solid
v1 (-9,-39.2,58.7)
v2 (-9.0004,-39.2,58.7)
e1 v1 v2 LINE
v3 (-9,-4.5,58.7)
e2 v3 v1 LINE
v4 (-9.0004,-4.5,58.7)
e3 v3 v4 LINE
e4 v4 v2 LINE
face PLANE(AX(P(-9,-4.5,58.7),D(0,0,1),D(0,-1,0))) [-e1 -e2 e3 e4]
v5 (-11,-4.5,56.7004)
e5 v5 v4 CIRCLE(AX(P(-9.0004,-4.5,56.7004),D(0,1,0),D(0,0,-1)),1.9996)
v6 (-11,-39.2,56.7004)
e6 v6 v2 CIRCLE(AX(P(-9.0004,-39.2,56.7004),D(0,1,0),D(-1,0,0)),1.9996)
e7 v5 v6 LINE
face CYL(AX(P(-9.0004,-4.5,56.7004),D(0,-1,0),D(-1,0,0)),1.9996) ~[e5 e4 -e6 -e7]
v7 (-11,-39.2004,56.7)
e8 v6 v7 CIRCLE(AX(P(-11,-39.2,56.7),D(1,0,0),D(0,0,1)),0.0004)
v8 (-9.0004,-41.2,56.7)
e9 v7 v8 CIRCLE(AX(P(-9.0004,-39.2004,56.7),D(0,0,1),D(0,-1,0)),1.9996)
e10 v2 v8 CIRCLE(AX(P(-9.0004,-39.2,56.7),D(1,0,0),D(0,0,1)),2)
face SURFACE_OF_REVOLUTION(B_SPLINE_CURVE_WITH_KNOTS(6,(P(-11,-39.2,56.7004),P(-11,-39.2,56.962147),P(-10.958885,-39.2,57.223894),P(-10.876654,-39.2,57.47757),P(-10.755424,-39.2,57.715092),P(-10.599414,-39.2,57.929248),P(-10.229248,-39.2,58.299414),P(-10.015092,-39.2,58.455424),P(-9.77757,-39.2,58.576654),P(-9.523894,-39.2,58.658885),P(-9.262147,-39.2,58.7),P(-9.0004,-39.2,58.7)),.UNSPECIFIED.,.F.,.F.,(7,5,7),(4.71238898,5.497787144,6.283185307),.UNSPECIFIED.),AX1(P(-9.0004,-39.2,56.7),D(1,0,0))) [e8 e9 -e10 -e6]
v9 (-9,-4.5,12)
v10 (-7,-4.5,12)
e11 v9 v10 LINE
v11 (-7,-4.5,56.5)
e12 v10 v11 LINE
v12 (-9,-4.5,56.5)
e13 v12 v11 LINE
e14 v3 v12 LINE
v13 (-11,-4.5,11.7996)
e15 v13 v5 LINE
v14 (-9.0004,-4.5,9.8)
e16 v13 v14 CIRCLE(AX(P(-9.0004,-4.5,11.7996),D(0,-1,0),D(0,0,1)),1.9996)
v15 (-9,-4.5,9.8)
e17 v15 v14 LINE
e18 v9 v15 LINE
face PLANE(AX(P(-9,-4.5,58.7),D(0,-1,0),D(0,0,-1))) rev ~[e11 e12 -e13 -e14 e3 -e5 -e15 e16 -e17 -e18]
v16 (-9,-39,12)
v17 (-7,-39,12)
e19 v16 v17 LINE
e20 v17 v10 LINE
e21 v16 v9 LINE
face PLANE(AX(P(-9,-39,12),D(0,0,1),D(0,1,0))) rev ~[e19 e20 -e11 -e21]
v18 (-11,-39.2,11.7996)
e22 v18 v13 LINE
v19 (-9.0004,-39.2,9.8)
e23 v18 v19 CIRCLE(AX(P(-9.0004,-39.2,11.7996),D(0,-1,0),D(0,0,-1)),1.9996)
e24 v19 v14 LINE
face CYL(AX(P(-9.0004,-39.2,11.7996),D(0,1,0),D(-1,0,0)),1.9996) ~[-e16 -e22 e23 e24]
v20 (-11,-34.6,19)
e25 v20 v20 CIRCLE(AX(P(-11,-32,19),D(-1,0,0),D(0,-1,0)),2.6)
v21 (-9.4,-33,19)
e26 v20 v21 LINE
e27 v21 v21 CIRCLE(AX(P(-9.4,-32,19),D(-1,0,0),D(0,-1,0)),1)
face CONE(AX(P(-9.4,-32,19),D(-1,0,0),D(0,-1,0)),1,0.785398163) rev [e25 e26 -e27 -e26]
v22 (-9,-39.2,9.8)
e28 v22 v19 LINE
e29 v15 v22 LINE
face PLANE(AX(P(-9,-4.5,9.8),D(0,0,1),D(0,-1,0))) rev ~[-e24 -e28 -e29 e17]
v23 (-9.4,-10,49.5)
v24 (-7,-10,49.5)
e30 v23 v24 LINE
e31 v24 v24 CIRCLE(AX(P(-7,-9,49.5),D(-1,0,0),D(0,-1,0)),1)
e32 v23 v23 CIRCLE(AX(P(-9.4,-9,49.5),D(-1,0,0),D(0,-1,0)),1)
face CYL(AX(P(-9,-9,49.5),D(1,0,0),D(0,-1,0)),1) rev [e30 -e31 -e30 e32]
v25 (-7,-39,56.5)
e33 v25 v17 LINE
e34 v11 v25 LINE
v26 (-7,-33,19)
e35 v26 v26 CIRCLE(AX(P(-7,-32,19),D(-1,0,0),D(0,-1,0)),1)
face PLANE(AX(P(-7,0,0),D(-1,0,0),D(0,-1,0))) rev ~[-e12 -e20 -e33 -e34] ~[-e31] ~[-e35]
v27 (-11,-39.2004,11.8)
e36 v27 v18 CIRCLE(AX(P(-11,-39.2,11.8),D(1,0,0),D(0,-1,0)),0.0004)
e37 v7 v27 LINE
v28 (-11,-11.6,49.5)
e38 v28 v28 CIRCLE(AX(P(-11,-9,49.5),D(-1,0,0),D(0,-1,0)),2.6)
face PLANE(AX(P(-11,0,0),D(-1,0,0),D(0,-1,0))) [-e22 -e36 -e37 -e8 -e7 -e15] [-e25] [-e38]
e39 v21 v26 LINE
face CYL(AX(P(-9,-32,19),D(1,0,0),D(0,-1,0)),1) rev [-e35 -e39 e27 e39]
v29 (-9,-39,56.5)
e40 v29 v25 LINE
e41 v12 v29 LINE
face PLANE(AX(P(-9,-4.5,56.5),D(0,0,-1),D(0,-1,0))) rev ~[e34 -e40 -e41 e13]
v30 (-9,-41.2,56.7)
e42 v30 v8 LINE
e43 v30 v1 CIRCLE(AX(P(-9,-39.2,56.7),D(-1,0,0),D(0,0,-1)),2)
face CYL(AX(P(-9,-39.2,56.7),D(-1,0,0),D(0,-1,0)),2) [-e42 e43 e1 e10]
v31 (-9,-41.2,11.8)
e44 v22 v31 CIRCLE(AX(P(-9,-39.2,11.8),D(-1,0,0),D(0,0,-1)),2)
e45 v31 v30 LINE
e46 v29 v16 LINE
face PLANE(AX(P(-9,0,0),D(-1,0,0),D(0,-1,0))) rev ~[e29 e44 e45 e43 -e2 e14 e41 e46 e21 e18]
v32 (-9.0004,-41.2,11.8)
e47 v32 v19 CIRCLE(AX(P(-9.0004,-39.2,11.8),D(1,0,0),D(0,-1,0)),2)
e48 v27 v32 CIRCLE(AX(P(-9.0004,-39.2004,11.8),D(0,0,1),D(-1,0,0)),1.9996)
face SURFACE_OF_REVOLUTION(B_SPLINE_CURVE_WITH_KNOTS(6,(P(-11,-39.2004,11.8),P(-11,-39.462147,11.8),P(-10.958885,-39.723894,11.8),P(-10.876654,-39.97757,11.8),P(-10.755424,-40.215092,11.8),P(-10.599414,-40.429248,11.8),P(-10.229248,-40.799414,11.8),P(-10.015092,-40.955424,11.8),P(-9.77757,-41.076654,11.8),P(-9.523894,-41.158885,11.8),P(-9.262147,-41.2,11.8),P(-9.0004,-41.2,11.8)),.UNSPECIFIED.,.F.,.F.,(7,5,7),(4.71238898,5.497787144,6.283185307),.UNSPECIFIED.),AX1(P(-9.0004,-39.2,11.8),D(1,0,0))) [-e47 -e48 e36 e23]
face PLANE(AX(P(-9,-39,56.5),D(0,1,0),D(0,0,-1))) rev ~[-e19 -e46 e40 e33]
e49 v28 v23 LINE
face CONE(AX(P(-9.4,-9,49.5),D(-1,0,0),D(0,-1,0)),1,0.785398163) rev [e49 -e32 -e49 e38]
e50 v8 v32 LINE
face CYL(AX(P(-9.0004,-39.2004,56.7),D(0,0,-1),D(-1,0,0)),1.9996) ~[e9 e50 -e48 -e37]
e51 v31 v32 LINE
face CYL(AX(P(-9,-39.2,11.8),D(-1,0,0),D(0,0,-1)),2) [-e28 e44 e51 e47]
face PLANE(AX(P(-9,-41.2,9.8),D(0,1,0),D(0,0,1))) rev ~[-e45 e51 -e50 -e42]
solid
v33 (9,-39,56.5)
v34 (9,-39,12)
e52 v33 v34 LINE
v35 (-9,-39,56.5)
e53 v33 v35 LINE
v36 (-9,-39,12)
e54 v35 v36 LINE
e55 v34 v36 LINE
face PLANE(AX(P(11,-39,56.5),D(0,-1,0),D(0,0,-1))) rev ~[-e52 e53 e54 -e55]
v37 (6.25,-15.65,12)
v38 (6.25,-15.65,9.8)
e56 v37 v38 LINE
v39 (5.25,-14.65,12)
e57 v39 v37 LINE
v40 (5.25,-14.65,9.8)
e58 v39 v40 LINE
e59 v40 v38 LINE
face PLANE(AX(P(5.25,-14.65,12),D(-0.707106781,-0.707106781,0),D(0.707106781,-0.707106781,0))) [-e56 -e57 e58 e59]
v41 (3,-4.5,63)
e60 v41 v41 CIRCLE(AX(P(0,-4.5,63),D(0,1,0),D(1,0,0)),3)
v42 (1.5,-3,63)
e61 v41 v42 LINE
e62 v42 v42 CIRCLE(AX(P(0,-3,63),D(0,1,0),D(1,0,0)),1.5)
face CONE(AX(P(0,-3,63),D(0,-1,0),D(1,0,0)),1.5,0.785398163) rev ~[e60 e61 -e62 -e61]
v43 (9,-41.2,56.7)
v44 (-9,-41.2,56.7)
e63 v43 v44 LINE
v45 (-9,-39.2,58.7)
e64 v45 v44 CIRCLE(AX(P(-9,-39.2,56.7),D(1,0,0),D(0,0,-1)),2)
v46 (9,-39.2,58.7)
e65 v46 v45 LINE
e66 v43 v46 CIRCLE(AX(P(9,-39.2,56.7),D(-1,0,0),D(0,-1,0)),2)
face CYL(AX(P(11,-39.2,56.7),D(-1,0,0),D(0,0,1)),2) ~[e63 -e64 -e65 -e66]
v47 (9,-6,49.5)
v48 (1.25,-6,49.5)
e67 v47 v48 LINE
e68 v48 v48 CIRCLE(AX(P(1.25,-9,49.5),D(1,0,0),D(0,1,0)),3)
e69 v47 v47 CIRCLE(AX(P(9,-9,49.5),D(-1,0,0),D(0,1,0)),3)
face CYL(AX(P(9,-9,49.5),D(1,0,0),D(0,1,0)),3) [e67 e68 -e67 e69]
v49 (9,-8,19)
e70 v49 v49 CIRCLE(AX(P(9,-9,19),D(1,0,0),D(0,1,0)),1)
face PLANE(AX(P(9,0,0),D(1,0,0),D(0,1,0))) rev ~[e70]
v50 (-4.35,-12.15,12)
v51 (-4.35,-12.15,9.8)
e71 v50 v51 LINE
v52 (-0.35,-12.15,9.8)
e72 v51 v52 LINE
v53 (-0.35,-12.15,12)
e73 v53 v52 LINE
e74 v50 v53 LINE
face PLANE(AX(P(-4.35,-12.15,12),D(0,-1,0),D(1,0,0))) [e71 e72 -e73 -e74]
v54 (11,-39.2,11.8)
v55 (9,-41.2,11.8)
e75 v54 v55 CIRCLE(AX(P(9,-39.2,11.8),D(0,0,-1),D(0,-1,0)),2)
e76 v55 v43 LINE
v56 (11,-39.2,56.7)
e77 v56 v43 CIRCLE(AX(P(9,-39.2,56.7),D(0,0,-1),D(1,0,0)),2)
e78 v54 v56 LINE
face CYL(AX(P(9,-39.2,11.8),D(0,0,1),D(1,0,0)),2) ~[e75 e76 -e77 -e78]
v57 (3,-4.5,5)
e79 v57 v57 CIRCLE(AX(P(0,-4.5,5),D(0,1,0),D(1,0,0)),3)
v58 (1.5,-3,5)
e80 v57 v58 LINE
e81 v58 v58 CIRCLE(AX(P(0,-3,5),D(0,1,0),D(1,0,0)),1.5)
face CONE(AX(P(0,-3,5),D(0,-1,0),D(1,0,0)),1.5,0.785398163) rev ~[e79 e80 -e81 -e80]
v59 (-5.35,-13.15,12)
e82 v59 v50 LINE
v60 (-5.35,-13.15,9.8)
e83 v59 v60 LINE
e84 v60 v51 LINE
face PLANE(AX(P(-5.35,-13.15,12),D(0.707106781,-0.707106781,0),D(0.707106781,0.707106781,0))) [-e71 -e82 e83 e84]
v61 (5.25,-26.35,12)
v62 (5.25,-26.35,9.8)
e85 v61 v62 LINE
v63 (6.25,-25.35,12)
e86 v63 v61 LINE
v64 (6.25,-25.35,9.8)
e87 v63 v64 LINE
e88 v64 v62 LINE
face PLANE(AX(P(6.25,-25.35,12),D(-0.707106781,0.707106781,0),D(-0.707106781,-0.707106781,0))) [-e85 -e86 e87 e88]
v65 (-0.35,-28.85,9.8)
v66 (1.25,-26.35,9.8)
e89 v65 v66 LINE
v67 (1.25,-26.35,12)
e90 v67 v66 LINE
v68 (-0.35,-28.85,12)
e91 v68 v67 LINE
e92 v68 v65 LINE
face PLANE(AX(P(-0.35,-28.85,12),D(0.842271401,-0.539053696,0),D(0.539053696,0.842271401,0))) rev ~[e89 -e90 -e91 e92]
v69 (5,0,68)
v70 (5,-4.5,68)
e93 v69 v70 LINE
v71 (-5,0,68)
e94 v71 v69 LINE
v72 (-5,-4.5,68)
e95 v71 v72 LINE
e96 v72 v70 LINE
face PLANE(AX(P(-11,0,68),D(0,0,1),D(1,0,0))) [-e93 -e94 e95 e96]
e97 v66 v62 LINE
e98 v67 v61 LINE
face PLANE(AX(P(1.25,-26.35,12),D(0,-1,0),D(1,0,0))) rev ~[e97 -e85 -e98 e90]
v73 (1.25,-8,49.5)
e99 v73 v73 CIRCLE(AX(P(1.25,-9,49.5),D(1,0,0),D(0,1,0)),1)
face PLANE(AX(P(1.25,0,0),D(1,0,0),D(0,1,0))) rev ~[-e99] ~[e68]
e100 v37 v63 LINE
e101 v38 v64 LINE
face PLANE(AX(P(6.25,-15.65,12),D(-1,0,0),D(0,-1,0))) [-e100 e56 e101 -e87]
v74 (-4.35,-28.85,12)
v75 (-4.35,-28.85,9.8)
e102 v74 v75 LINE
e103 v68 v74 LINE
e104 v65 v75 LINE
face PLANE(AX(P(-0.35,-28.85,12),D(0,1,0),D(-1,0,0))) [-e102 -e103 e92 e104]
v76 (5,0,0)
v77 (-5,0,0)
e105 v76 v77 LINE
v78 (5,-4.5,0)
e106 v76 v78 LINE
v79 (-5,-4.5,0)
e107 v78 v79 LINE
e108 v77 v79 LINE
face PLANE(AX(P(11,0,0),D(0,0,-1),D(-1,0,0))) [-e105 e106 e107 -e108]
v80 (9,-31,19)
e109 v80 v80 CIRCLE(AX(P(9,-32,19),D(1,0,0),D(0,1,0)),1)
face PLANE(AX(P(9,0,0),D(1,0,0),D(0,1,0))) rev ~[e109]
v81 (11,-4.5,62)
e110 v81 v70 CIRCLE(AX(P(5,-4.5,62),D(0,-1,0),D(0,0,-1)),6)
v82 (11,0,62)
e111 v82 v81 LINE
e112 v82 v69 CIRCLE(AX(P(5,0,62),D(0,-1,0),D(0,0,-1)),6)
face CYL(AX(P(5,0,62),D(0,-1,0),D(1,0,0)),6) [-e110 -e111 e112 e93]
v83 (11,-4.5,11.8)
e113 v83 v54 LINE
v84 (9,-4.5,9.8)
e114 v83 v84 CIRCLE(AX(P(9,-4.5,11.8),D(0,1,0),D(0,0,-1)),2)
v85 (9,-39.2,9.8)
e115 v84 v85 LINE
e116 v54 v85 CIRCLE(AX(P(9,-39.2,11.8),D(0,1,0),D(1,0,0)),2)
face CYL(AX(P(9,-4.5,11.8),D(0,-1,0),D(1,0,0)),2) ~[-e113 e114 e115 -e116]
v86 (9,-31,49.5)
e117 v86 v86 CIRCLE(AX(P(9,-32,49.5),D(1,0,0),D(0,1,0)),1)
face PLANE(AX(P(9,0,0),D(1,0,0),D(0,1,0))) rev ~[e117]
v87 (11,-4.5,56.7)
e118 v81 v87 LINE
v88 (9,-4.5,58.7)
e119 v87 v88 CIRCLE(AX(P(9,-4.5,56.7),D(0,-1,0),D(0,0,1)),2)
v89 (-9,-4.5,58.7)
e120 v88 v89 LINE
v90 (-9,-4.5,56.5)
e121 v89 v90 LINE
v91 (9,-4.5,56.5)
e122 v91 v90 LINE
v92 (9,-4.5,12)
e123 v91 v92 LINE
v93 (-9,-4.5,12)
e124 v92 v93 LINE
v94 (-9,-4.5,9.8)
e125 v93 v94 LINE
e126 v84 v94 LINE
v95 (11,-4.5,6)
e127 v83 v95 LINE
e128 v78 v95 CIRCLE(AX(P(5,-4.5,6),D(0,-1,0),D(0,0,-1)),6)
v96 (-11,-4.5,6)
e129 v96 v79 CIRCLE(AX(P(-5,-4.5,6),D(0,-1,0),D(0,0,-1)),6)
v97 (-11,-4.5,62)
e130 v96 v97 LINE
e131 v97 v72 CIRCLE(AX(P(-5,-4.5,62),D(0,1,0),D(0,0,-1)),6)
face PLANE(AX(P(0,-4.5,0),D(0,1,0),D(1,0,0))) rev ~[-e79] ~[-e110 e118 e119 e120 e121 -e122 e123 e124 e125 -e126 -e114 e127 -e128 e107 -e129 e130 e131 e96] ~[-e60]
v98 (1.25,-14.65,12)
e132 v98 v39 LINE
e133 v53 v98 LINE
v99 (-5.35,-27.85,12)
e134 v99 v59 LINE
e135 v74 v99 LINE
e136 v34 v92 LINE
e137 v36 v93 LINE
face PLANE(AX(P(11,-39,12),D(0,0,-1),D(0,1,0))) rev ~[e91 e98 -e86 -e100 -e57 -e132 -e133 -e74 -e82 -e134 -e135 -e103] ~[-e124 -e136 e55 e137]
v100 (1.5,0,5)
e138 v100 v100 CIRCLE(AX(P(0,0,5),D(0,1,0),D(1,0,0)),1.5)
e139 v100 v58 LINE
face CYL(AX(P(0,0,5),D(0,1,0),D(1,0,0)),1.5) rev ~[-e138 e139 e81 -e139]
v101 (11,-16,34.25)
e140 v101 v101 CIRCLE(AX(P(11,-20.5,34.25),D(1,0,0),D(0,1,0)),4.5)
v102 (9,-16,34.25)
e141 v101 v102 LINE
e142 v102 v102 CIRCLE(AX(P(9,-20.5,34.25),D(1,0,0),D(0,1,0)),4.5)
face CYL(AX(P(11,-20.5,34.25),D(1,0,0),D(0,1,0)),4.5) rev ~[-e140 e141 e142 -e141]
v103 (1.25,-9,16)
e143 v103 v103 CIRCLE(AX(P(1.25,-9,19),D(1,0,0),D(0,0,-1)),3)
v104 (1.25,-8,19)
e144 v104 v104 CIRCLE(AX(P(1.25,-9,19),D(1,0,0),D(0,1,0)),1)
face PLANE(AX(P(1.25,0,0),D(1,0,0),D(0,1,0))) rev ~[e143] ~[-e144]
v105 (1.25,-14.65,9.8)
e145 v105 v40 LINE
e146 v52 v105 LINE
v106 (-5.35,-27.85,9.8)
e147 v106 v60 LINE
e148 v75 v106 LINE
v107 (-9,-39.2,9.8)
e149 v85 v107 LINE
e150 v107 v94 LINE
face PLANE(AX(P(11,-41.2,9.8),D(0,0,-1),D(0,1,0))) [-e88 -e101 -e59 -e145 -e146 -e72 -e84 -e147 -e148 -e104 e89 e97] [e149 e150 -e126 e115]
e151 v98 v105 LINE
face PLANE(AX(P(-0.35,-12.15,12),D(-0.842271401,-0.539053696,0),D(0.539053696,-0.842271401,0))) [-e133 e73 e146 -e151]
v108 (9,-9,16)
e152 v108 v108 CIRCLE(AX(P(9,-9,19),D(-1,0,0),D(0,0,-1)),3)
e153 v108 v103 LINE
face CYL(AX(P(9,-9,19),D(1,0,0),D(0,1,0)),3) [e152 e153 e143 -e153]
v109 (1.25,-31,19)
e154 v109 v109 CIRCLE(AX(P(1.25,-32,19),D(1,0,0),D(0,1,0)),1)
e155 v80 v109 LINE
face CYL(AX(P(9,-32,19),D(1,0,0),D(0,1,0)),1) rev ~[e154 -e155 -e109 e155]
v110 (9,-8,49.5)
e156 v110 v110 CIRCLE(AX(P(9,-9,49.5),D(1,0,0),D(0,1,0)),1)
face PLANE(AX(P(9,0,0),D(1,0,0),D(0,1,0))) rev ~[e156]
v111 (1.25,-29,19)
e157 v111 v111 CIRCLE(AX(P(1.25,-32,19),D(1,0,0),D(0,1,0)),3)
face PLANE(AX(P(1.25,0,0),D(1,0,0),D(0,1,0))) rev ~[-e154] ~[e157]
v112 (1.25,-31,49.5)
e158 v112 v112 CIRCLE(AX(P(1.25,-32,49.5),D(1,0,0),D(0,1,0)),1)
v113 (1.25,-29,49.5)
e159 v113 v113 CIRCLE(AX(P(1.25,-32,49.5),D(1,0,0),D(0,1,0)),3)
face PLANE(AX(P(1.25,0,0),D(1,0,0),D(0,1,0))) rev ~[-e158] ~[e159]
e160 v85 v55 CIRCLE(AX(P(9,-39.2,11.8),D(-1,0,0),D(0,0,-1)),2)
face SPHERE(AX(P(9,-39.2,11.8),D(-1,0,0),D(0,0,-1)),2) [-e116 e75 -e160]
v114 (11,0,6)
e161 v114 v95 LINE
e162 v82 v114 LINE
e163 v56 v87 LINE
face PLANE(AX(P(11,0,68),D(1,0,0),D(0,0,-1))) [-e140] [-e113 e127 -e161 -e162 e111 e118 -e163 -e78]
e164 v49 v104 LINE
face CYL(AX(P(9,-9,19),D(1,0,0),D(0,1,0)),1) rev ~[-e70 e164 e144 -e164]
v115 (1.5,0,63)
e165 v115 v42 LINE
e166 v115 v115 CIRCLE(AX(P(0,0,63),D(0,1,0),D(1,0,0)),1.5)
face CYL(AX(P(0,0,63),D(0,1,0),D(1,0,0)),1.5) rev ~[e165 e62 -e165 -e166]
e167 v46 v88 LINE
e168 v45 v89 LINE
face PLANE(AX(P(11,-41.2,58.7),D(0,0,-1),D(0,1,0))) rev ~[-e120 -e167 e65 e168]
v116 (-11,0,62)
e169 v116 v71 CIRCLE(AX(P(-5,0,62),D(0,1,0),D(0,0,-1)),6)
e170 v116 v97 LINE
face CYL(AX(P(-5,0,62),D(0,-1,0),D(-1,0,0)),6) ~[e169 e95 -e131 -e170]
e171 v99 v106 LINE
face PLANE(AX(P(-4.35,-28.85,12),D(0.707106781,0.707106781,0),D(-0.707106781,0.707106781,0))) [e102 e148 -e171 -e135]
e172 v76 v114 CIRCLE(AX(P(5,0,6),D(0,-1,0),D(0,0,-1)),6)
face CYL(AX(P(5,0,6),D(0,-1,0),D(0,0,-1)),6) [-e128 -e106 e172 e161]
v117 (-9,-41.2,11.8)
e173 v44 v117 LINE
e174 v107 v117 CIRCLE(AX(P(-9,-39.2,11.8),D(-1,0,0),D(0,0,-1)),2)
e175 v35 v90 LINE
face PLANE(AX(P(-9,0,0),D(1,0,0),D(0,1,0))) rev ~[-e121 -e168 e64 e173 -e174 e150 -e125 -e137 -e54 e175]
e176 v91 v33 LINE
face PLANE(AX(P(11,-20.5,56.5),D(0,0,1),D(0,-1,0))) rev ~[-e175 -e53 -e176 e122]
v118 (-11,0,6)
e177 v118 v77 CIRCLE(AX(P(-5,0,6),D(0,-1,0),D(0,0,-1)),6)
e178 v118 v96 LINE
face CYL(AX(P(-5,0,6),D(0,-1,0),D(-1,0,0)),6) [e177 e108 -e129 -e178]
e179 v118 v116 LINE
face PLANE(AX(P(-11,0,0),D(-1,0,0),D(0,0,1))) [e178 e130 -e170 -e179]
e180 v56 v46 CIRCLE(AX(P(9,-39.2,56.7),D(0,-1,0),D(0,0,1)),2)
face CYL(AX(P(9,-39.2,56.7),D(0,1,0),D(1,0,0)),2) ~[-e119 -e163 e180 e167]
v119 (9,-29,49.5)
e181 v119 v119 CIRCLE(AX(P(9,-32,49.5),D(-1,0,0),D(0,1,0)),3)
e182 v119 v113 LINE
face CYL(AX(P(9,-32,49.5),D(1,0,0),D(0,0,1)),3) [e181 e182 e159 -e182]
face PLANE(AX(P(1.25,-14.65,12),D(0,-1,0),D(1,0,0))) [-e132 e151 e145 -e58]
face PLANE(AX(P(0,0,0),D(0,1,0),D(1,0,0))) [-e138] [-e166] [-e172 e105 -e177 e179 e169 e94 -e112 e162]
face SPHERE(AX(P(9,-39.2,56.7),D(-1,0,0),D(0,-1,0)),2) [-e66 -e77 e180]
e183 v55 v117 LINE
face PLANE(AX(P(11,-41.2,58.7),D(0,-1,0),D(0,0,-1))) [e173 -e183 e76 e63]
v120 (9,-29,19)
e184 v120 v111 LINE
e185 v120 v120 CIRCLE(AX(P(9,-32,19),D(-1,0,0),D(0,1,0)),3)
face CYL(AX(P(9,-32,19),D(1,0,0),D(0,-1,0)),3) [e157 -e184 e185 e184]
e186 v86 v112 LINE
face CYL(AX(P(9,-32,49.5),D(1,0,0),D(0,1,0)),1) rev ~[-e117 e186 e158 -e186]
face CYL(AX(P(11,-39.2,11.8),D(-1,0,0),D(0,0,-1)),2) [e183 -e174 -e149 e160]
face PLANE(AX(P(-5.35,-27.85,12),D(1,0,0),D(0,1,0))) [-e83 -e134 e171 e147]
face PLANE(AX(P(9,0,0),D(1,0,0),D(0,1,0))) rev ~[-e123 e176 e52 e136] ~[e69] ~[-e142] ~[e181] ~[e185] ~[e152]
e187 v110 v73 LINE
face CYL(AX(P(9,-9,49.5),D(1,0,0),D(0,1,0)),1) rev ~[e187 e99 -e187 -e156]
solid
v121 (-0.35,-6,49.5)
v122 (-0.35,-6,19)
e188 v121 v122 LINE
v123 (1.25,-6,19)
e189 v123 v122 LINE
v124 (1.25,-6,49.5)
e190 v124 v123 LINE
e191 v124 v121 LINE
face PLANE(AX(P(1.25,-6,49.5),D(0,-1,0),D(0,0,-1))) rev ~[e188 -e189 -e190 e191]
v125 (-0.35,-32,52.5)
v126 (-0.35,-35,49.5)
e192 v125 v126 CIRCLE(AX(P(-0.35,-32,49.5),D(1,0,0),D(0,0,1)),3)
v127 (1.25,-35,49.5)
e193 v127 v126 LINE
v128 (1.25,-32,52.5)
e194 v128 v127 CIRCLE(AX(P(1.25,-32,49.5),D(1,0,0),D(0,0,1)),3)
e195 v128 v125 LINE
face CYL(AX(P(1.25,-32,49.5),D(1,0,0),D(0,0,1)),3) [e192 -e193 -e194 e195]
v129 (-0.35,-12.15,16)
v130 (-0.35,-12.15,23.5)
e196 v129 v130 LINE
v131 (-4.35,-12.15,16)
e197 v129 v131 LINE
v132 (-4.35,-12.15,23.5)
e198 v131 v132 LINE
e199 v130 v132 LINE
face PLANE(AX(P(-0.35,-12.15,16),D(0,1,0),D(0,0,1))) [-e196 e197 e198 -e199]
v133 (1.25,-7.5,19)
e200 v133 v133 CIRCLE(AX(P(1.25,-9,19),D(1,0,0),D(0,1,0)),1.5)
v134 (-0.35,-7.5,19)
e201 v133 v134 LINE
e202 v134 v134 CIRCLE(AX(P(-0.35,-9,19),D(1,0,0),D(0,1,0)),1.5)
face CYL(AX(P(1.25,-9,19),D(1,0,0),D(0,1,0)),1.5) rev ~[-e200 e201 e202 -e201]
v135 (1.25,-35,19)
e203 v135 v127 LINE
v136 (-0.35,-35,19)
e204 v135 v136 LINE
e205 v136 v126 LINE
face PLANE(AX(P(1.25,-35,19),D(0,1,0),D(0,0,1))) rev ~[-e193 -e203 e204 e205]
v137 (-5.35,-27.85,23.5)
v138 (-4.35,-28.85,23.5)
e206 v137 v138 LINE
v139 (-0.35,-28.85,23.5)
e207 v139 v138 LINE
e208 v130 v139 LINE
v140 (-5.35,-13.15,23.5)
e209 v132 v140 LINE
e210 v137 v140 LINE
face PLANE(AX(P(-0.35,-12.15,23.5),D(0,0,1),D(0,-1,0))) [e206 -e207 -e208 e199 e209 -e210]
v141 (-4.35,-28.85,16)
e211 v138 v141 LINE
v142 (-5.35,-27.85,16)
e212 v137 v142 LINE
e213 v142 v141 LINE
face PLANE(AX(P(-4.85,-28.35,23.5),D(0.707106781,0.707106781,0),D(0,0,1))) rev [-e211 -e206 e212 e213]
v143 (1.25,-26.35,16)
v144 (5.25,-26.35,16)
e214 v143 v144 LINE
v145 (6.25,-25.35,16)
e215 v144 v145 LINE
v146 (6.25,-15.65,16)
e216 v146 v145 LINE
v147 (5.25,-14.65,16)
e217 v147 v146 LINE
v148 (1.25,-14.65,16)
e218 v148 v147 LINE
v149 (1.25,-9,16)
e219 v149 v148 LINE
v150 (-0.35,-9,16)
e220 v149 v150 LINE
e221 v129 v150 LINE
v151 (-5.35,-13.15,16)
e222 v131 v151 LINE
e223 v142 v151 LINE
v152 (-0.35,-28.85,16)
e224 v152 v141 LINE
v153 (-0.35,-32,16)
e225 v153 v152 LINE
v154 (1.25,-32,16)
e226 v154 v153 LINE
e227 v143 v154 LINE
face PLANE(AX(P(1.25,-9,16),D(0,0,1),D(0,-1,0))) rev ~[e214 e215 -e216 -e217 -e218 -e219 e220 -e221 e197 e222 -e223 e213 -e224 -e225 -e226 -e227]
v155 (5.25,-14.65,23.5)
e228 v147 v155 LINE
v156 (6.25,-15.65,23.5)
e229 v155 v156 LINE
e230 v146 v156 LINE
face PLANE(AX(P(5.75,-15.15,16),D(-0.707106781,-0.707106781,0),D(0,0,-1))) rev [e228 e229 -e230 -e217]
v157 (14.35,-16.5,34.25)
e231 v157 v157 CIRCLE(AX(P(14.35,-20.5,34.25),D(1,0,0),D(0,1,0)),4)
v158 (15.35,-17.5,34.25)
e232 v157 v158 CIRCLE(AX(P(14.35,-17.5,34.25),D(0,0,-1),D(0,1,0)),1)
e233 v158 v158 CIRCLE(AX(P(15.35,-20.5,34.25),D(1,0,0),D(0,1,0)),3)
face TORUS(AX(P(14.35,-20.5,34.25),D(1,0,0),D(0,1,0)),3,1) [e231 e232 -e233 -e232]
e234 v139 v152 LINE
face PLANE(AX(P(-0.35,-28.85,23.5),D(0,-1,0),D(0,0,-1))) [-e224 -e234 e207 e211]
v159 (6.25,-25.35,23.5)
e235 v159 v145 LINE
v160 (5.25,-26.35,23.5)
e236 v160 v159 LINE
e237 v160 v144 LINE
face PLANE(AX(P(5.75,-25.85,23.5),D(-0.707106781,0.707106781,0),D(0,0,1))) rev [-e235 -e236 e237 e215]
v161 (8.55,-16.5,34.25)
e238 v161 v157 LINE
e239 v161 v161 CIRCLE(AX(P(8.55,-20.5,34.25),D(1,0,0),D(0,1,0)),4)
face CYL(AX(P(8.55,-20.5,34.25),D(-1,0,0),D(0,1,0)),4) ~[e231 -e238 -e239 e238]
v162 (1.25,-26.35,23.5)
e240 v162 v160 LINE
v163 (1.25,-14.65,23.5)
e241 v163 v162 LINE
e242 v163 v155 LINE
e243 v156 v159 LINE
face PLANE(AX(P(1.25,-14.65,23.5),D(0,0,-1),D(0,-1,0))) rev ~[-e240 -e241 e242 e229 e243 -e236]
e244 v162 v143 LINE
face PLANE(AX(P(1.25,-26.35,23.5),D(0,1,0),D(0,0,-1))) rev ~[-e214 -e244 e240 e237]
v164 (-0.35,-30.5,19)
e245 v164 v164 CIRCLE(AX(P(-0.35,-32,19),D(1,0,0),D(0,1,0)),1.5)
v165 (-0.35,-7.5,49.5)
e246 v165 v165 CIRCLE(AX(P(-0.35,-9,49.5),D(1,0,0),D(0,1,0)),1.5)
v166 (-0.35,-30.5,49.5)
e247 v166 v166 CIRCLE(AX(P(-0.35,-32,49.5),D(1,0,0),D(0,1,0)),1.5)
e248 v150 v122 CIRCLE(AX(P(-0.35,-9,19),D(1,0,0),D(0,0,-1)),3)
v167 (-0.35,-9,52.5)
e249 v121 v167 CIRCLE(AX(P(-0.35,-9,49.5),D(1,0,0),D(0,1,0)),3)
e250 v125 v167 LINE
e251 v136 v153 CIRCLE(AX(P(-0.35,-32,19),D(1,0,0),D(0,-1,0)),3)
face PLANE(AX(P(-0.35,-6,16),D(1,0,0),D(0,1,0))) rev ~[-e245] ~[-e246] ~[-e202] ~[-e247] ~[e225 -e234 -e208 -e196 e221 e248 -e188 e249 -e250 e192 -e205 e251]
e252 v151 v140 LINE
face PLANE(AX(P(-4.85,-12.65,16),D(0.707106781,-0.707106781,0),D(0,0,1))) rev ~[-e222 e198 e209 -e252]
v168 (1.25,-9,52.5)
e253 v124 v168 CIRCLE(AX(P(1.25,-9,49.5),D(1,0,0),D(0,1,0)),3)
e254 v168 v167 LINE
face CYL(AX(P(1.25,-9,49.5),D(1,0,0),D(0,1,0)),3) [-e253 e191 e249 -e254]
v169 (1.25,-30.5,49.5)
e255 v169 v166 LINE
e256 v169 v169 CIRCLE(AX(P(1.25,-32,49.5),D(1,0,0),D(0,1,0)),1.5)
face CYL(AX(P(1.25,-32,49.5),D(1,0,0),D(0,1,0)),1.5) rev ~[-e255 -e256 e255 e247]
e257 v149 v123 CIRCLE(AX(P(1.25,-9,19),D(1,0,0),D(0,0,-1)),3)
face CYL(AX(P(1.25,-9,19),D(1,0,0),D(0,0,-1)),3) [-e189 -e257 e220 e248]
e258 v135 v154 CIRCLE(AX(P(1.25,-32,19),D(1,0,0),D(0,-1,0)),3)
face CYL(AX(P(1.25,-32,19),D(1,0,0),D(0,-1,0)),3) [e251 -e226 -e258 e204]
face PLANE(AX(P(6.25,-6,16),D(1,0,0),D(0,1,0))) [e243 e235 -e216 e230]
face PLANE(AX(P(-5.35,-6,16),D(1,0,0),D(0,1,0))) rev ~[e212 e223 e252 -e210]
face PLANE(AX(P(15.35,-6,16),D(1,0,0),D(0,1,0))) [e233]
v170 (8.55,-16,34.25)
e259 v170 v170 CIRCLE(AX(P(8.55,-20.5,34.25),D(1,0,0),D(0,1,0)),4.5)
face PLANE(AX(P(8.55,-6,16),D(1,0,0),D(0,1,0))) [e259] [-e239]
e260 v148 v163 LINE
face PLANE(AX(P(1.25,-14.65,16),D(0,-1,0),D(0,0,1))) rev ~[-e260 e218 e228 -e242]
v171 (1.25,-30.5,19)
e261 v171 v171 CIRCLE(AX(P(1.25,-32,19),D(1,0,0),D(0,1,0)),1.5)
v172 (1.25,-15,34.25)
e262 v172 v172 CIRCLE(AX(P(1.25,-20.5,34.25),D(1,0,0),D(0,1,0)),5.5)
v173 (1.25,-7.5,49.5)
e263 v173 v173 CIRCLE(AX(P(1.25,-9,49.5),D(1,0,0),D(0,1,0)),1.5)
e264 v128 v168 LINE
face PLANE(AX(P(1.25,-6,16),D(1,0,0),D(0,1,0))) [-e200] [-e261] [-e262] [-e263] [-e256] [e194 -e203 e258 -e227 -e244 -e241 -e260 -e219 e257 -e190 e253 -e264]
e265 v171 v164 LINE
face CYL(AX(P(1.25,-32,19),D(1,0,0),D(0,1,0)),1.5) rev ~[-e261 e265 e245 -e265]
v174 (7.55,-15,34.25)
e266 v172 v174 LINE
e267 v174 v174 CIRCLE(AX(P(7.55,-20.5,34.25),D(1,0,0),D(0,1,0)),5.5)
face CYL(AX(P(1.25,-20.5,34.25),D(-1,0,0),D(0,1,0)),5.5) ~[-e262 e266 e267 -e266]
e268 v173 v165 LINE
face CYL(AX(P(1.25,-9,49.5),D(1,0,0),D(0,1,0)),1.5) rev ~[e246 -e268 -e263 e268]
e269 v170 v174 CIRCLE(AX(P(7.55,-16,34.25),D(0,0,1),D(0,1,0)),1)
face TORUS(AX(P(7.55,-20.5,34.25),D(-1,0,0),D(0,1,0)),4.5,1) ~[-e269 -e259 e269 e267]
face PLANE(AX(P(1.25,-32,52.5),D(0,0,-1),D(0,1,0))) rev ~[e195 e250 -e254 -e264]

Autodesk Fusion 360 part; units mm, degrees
sketch "Sketch2" plane through (0, 0, 0) normal (1, 0, 0) x (0, 1, 0) in component "Switch PCB"
  line L0 (-3, 0) -> (-26, 0)
  line L1 (-29, 3) -> (-29, 33.5)
  line L2 (-26, 36.5) -> (-3, 36.5)
  line L3 (0, 33.5) -> (0, 3)
  line L4 (-14.5, 0) -> (-14.5, 3) construction
  line L5 (0, 18.25) -> (-3, 18.25) construction
  line L6 (-3, 33.5) -> (-26, 33.5) construction
  line L7 (-26, 33.5) -> (-26, 3) construction
  line L8 (-26, 3) -> (-3, 3) construction
  line L9 (-3, 3) -> (-3, 33.5) construction
  circle A0 centre (-26, 33.5) radius 1.5
  circle A1 centre (-3, 33.5) radius 1.5
  circle A2 centre (-26, 3) radius 1.5
  circle A3 centre (-3, 3) radius 1.5
  arc A4 (-26, 36.5) -> (-29, 33.5) centre (-26, 33.5) ccw
  arc A5 (0, 33.5) -> (-3, 36.5) centre (-3, 33.5) ccw
  arc A6 (-29, 3) -> (-26, 0) centre (-26, 3) ccw
  arc A7 (-3, 0) -> (0, 3) centre (-3, 3) ccw
  line L10 (-8.65, 7.5) -> (-20.35, 7.5)
  line L11 (-20.35, 7.5) -> (-20.35, 0)
  line L12 (-20.35, 0) -> (-8.65, 0)
  line L13 (-8.65, 0) -> (-8.65, 7.5)
  line L14 (-14.5, 0) -> (-14.5, 18.25) construction
  line L15 (-14.5, 18.25) -> (0, 18.25) construction
  circle A8 centre (-14.5, 18.25) radius 4
  circle A9 centre (-14.5, 18.25) radius 5.5
  line L16 (-6.15, 7.5) -> (-22.85, 7.5)
  line L17 (-22.85, 7.5) -> (-22.85, 0)
  line L18 (-22.85, 0) -> (-6.15, 0)
  line L19 (-6.15, 0) -> (-6.15, 7.5)
  point P0 (-29, 0)
  point P1 (0, 36.5)
  point P2 (-14.5, 3)
  point P3 (-3, 18.25)
  point P4 (-14.5, 0)
  point P5 (-14.5, -4)
  point P6 (-14.5, 0)
  dimension "d11" = 29
  dimension "d12" = 36.5
  dimension "d13" = 3
  dimension "d14" = 3
  dimension "d15" = 3
  dimension "d16" = 3
  dimension "d17" = 3
  dimension "d18" = 3
  dimension "d19" = 3
  dimension "d20" = 3
  dimension "d21" = 3
  dimension "d22" = 3
  dimension "d23" = 23
  dimension "d24" = 30.5
  dimension "d25" = 11.7
  dimension "d26" = 7.5
  dimension "d27" = 4
  dimension "d164" = 8
  dimension "d165" = 11
  dimension "d175" = 16.7
  dimension "d176" = 7.5
extrude "Extrude1" add sketch "Sketch2" against normal blind 1.6 contours L0 L1 L2 L3 A4 A5 A6 A7 L10 L16 L17 L19 | L0 L13 L16 L18 L19 | L0 L10 L11 L12 L13 L16 L18 | L0 L11 L16 L17 L18 | A8 | A9 makes body 1 in component "Switch PCB"
extrude "Extrude2" add sketch "Sketch2" along normal blind 5 contours L0 L10 L11 L12 L13 L16 L18 bodies 1 in component "Switch PCB"
extrude "Extrude3" add sketch "Sketch2" against normal blind 5 from surface at -1.6 contours L0 L13 L16 L18 L19 | L0 L10 L11 L12 L13 L16 L18 | L0 L11 L16 L17 L18 bodies 1 in component "Switch PCB"
sketch "Sketch1" plane through (0, 0, 0) normal (0, 1, 0) x (1, 0, 0) in component "PIR Holder"
  line L0 (0, 0) -> (0, -5) construction
  circle A0 centre (0, -5) radius 1.5
  line L1 (-11, -68) -> (11, -68)
  line L2 (11, -68) -> (11, 0)
  line L3 (11, 0) -> (-11, 0)
  line L4 (-11, 0) -> (-11, -68)
  line L5 (0, -68) -> (0, -63) construction
  circle A1 centre (0, -63) radius 1.5
  dimension "d1" = 5
  dimension "d2" = 3
  dimension "d3" = 22
  dimension "d4" = 68
  dimension "d5" = 5
  dimension "d6" = 3
extrude "Extrude1'" add sketch "Sketch1" against normal blind 4.5 separate body makes body 2 in component "PIR Holder"
fillet "Fillet1" radius 6 4 edges at (11, -2.25, 68) (-11, -2.25, 68) (11, -2.25, 0) (-11, -2.25, 0) on bodies 2 in component "PIR Holder"
sketch "Sketch2 (2)" plane through (-11, 0, 0) normal (-1, 0, 0) x (0, -1, 0) in component "PIR Holder"
  line L0 (0, 6) -> (4.5, 6)
  line L1 (4.5, 6) -> (4.5, 62)
  line L2 (4.5, 62) -> (0, 62)
  line L3 (0, 62) -> (0, 6)
  line L4 (4.5, 62) -> (4.5, 6)
  line L5 (0, 0) -> (0, 15) construction
  line L6 (0, 15) -> (9, 15) construction
  dimension "d64" = 15
  dimension "d65" = 9
sketch "Sketch3" plane through (0, 0, 0) normal (1, 0, 0) x (0, 1, 0) in component "PIR Holder"
  line L0 (-32, 52.5) -> (-9, 52.5)
sketch "Sketch4" plane through (11, 0, 0) normal (1, 0, 0) x (0, 1, 0) in component "PIR Holder"
  line L0 (-4.5, 6) -> (0, 6)
  line L1 (0, 6) -> (0, 62)
  line L2 (0, 62) -> (-4.5, 62)
  line L3 (-4.5, 62) -> (-4.5, 6)
  line L4 (-26.35, 16) -> (-26.35, 23.5)
  line L5 (-26.35, 23.5) -> (-14.65, 23.5)
  line L6 (-14.65, 23.5) -> (-14.65, 16)
  line L7 (-14.65, 16) -> (-9, 16)
  arc A0 (-9, 16) -> (-6, 19) centre (-9, 19) ccw
  line L8 (-6, 19) -> (-6, 49.5)
  arc A1 (-6, 49.5) -> (-9, 52.5) centre (-9, 49.5) ccw
  line L9 (-9, 52.5) -> (-32, 52.5)
  arc A2 (-32, 52.5) -> (-35, 49.5) centre (-32, 49.5) ccw
  line L10 (-35, 49.5) -> (-35, 19)
  arc A3 (-35, 19) -> (-32, 16) centre (-32, 19) ccw
  line L11 (-32, 16) -> (-26.35, 16)
  circle A4 centre (-32, 19) radius 1.5
  circle A5 centre (-9, 49.5) radius 1.5
  circle A6 centre (-9, 19) radius 1.5
  circle A7 centre (-32, 49.5) radius 1.5
  line L12 (-14.65, 16) -> (-14.65, 23.5)
  line L13 (-14.65, 23.5) -> (-26.35, 23.5)
  line L14 (-26.35, 23.5) -> (-26.35, 16)
  line L15 (-26.35, 16) -> (-14.65, 16)
  line L16 (-20.5, 52.5) -> (-20.5, 56.5) construction
  line L17 (-20.5, 56.5) -> (-4.5, 56.5)
  line L18 (-4.5, 56.5) -> (-4.5, 12)
  line L19 (-20.5, 56.5) -> (-32, 56.5)
  line L20 (-32, 56.5) -> (-39, 56.5)
  line L21 (-39, 56.5) -> (-39, 12)
  line L22 (-39, 12) -> (-4.5, 12)
  circle A8 centre (-32, 49.5) radius 3
  circle A9 centre (-9, 49.5) radius 3
  circle A10 centre (-32, 19) radius 3
  circle A11 centre (-9, 19) radius 3
  circle A12 centre (-32, 49.5) radius 1
  circle A13 centre (-9, 49.5) radius 1
  circle A14 centre (-32, 19) radius 1
  circle A15 centre (-9, 19) radius 1
  line L23 (-35, 34.25) -> (-39, 34.25) construction
  line L24 (-32, 52.5) -> (-32, 56.5) construction
  line L25 (-20.5, 16) -> (-20.5, 12) construction
  circle A16 centre (-20.5, 34.25) radius 4
  circle A17 centre (-20.5, 34.25) radius 4.5
  point P0 (-20.5, 52.5)
  dimension "d82" = 4
  dimension "d89" = 6
  dimension "d90" = 6
  dimension "d91" = 6
  dimension "d92" = 6
  dimension "d93" = 2
  dimension "d94" = 2
  dimension "d95" = 2
  dimension "d96" = 2
  dimension "d163" = 4
  dimension "d178" = 4
  dimension "d179" = 0.5
extrude "Extrude5" add sketch "Sketch2" along normal blind 7.3 contours A8 | A9 bodies 1 in component "Switch PCB"
extrude "Extrude6" add sketch "Sketch2" along normal blind 6.8 from surface at 7.3 contours A8 bodies 1 in component "Switch PCB"
fillet "Fillet1'" radius 1 1 edges at (14.1, -18.2293, 16.8035) on bodies 1 in component "Switch PCB"
fillet "Fillet2" radius 1 1 edges at (7.3, -19.6278, 16.2611) on bodies 1 in component "Switch PCB"
chamfer "Chamfer1" distance 1 angle 45 4 edges at (5, -20.35, 3.75) (5, -8.65, 3.75) (-6.6, -22.85, 3.75) (-6.6, -6.15, 3.75) on bodies 1 in component "Switch PCB"
extrude "Extrude2'" add sketch "Sketch4" against normal blind 2 contours L3 L17 L18 L19 L20 L21 L22 | L4 L5 L6 L7 L8 L9 L10 L11 L12 L13 L14 A8 A9 A10 A11 | L4 L5 L6 L12 L13 L14 L15 | A3 A10 | A0 A11 | A2 A8 | A1 A9 | A4 | A5 | A6 | A7 | A12 | A13 | A14 | A15 bodies 2 in component "PIR Holder"
extrude "Extrude4" add sketch "Sketch4" against normal up to surface (7.75 mm away) from surface at -2 contours A3 A10 | A0 A11 | A2 A8 | A1 A9 | A4 | A5 | A6 | A7 bodies 2 in component "PIR Holder"
sketch "Sketch5" plane through (11, 0, 0) normal (1, 0, 0) x (0, 1, 0) in component "PIR Holder"
  line L0 (-20.5, 56.5) -> (-32, 56.5)
  line L1 (-20.5, 56.5) -> (-4.5, 56.5)
  line L2 (-32, 56.5) -> (-39, 56.5)
  line L3 (-39, 56.5) -> (-39, 12)
  line L4 (-39, 12) -> (-4.5, 12)
  line L5 (-4.5, 56.7) -> (-4.5, 56.5)
  line L6 (-4.5, 12.2) -> (-4.5, 10)
  line L7 (-4.5, 56.7) -> (-4.5, 12.2) construction
  line L8 (-7.5, 51.2) -> (-4.5, 51.2)
  line L9 (-4.5, 51.2) -> (-4.5, 56.7)
  line L10 (-41.2, 9.8) -> (-4.5, 9.8)
  line L11 (-41.2, 58.7) -> (-41.2, 9.8)
  line L12 (-4.5, 12) -> (-4.5, 9.8)
  line L13 (-41.2, 58.7) -> (-4.5, 58.7)
  line L14 (-4.5, 58.7) -> (-4.5, 12)
  line L15 (-20.5, 56.5) -> (-20.5, 58.7) construction
  dimension "d180" = 2.2
extrude "Extrude5'" add sketch "Sketch5" against normal up to surface (20 mm away) contours L0 L1 L2 L3 L4 L5 L6 L9 L10 L11 L12 L13 L14 bodies 2 in component "PIR Holder"
sketch "Sketch6" plane through (0, 0, 12) normal (0, 0, 1) x (1, 0, 0) in component "PIR Holder"
  line L0 (-9, -39) -> (9, -39)
  line L1 (-9, -4.5) -> (-9, -39)
  line L2 (9, -4.5) -> (-9, -4.5)
  line L3 (6.25, -15.65) -> (6.25, -25.35)
  line L4 (1.25, -14.65) -> (5.25, -14.65)
  line L5 (1.25, -26.35) -> (5.25, -26.35)
  line L6 (0.75, -42.3) -> (9.25, -42.3)
  line L7 (9, -39) -> (9, -4.5)
  line L8 (-5.35, -13.15) -> (-4.35, -12.15)
  line L9 (-4.35, -12.15) -> (-0.35, -12.15)
  line L10 (-0.35, -12.15) -> (-0.35, -9)
  line L11 (-0.35, -9) -> (1.25, -9)
  line L12 (1.25, -9) -> (1.25, -14.65)
  line L13 (1.25, -14.65) -> (5.25, -14.65)
  line L14 (5.25, -14.65) -> (6.25, -15.65)
  line L15 (6.25, -15.65) -> (6.25, -25.35)
  line L16 (6.25, -25.35) -> (5.25, -26.35)
  line L17 (5.25, -26.35) -> (1.25, -26.35)
  line L18 (1.25, -26.35) -> (1.25, -32)
  line L19 (1.25, -32) -> (-0.35, -32)
  line L20 (-0.35, -32) -> (-0.35, -28.85)
  line L21 (-0.35, -28.85) -> (-4.35, -28.85)
  line L22 (-4.35, -28.85) -> (-5.35, -27.85)
  line L23 (-5.35, -27.85) -> (-5.35, -13.15)
  line L24 (-0.35, -12.15) -> (1.25, -14.65)
  line L25 (-0.35, -28.85) -> (1.25, -26.35)
extrude "Extrude6'" cut sketch "Sketch6" against normal up to surface (2.2 mm away) contours L3 L4 L5 L8 L9 L13 L14 L15 L16 L17 L21 L22 L23 L24 L25 bodies 2 in component "PIR Holder"
chamfer "Chamfer3" distance 1.5 angle 45 2 edges at (-1.3985, -4.5, 63.5424) (-1.3985, -4.5, 5.5424) on bodies 2 in component "PIR Holder"
sketch "Sketch1 (2)" plane through (-9, 0, 0) normal (-1, 0, 0) x (0, -1, 0) in component "PIR Holder Lid"
  line L0 (39, 12) -> (4.5, 12)
  line L1 (39, 56.5) -> (39, 12)
  line L2 (4.5, 56.5) -> (39, 56.5)
  line L3 (41.2, 9.8) -> (41.2, 58.7)
  line L4 (4.5, 9.8) -> (41.2, 9.8)
  line L5 (4.5, 9.8) -> (41.2, 9.8)
  line L6 (4.5, 58.7) -> (4.5, 56.5)
  line L7 (39, 12) -> (4.5, 12)
  circle A0 centre (32, 19) radius 1.5
  circle A1 centre (32, 19) radius 1
  line L8 (41.2, 9.8) -> (4.5, 9.8) construction
  line L9 (4.5, 9.8) -> (5, 9.8) construction
  line L10 (4.5, 58.7) -> (4.5, 56.5)
  line L11 (41.2, 9.8) -> (41.2, 58.7)
  line L12 (4.5, 56.5) -> (39, 56.5)
  line L13 (39, 56.5) -> (39, 12)
  line L14 (13.15, 23.5) -> (13.15, 16)
  line L15 (13.15, 16) -> (27.85, 16)
  line L16 (27.85, 16) -> (27.85, 23.5)
  line L17 (27.85, 23.5) -> (13.15, 23.5)
  line L18 (4.5, 12) -> (4.5, 9.8)
  line L19 (4.5, 12) -> (4.5, 9.8)
  line L20 (4.5, 58.7) -> (41.2, 58.7)
  line L21 (41.2, 58.7) -> (41.2, 9.8)
  line L22 (41.2, 9.8) -> (4.5, 9.8)
  line L23 (4.5, 9.8) -> (4.5, 58.7)
  line L24 (4.5, 56.5) -> (39, 56.5)
  line L25 (39, 56.5) -> (39, 12)
  line L26 (39, 12) -> (4.5, 12)
  line L27 (4.5, 12) -> (4.5, 56.5)
  circle A2 centre (9, 49.5) radius 1
  line L28 (41.2, 58.7) -> (4.5, 58.7)
  line L29 (41.2, 58.7) -> (4.5, 58.7)
  point P0 (32, 19)
  dimension "d124" = 2
extrude "Extrude1''" add sketch "Sketch1 (2)" along normal up to surface (2 mm away) separate body contours L0 L1 L2 L3 L4 L5 L6 L7 L10 L11 L12 L13 L18 L19 L20 L21 L22 L23 L24 L25 L26 L28 L29 | L0 L1 L2 L7 L12 L13 L23 L24 L25 L26 L27 | A0 | L14 L15 L16 L17 makes body 3 in component "PIR Holder Lid"
extrude "Extrude2''" add sketch "Sketch1 (2)" against normal blind 2 contours L0 L1 L2 L7 L12 L13 L23 L24 L25 L26 L27 | A0 | L14 L15 L16 L17 bodies 3 in component "PIR Holder Lid"
chamfer "Chamfer2" distance 1.6 angle 45 2 edges at (-11, -8.0677, 49.1384) (-11, -31.0677, 18.6384) on bodies 3 in component "PIR Holder Lid"
fillet "Fillet4" radius 2 2 edges at (-10, -41.2, 9.8) (-10, -41.2, 58.7) on bodies 3 in component "PIR Holder Lid"
fillet "Fillet5" radius 2 5 edges at (-11, -21.85, 58.7) (-11, -40.6142, 58.1142) (-11, -41.2, 34.25) (-11, -40.6142, 10.3858) (-11, -21.85, 9.8) on bodies 3 in component "PIR Holder Lid"
fillet "Fillet4'" radius 2 2 edges at (1, -41.2, 9.8) (1, -41.2, 58.7) on bodies 2 in component "PIR Holder"
fillet "Fillet5'" radius 2 5 edges at (11, -21.85, 58.7) (11, -40.6142, 58.1142) (11, -41.2, 34.25) (11, -40.6142, 10.3858) (11, -21.85, 9.8) on bodies 2 in component "PIR Holder"
component "Switch PCB" placed x (1, 0, 0) y (0, 1, 0) z (0, 0, 1) at (1.25, -6, 16)
component "PIR Holder" placed x (1, 0, 0) y (0, 1, 0) z (0, 0, 1) at (0, 0, 0)
component "PIR Holder Lid" placed x (1, 0, 0) y (0, 1, 0) z (0, 0, 1) at (0, 0, 0)
